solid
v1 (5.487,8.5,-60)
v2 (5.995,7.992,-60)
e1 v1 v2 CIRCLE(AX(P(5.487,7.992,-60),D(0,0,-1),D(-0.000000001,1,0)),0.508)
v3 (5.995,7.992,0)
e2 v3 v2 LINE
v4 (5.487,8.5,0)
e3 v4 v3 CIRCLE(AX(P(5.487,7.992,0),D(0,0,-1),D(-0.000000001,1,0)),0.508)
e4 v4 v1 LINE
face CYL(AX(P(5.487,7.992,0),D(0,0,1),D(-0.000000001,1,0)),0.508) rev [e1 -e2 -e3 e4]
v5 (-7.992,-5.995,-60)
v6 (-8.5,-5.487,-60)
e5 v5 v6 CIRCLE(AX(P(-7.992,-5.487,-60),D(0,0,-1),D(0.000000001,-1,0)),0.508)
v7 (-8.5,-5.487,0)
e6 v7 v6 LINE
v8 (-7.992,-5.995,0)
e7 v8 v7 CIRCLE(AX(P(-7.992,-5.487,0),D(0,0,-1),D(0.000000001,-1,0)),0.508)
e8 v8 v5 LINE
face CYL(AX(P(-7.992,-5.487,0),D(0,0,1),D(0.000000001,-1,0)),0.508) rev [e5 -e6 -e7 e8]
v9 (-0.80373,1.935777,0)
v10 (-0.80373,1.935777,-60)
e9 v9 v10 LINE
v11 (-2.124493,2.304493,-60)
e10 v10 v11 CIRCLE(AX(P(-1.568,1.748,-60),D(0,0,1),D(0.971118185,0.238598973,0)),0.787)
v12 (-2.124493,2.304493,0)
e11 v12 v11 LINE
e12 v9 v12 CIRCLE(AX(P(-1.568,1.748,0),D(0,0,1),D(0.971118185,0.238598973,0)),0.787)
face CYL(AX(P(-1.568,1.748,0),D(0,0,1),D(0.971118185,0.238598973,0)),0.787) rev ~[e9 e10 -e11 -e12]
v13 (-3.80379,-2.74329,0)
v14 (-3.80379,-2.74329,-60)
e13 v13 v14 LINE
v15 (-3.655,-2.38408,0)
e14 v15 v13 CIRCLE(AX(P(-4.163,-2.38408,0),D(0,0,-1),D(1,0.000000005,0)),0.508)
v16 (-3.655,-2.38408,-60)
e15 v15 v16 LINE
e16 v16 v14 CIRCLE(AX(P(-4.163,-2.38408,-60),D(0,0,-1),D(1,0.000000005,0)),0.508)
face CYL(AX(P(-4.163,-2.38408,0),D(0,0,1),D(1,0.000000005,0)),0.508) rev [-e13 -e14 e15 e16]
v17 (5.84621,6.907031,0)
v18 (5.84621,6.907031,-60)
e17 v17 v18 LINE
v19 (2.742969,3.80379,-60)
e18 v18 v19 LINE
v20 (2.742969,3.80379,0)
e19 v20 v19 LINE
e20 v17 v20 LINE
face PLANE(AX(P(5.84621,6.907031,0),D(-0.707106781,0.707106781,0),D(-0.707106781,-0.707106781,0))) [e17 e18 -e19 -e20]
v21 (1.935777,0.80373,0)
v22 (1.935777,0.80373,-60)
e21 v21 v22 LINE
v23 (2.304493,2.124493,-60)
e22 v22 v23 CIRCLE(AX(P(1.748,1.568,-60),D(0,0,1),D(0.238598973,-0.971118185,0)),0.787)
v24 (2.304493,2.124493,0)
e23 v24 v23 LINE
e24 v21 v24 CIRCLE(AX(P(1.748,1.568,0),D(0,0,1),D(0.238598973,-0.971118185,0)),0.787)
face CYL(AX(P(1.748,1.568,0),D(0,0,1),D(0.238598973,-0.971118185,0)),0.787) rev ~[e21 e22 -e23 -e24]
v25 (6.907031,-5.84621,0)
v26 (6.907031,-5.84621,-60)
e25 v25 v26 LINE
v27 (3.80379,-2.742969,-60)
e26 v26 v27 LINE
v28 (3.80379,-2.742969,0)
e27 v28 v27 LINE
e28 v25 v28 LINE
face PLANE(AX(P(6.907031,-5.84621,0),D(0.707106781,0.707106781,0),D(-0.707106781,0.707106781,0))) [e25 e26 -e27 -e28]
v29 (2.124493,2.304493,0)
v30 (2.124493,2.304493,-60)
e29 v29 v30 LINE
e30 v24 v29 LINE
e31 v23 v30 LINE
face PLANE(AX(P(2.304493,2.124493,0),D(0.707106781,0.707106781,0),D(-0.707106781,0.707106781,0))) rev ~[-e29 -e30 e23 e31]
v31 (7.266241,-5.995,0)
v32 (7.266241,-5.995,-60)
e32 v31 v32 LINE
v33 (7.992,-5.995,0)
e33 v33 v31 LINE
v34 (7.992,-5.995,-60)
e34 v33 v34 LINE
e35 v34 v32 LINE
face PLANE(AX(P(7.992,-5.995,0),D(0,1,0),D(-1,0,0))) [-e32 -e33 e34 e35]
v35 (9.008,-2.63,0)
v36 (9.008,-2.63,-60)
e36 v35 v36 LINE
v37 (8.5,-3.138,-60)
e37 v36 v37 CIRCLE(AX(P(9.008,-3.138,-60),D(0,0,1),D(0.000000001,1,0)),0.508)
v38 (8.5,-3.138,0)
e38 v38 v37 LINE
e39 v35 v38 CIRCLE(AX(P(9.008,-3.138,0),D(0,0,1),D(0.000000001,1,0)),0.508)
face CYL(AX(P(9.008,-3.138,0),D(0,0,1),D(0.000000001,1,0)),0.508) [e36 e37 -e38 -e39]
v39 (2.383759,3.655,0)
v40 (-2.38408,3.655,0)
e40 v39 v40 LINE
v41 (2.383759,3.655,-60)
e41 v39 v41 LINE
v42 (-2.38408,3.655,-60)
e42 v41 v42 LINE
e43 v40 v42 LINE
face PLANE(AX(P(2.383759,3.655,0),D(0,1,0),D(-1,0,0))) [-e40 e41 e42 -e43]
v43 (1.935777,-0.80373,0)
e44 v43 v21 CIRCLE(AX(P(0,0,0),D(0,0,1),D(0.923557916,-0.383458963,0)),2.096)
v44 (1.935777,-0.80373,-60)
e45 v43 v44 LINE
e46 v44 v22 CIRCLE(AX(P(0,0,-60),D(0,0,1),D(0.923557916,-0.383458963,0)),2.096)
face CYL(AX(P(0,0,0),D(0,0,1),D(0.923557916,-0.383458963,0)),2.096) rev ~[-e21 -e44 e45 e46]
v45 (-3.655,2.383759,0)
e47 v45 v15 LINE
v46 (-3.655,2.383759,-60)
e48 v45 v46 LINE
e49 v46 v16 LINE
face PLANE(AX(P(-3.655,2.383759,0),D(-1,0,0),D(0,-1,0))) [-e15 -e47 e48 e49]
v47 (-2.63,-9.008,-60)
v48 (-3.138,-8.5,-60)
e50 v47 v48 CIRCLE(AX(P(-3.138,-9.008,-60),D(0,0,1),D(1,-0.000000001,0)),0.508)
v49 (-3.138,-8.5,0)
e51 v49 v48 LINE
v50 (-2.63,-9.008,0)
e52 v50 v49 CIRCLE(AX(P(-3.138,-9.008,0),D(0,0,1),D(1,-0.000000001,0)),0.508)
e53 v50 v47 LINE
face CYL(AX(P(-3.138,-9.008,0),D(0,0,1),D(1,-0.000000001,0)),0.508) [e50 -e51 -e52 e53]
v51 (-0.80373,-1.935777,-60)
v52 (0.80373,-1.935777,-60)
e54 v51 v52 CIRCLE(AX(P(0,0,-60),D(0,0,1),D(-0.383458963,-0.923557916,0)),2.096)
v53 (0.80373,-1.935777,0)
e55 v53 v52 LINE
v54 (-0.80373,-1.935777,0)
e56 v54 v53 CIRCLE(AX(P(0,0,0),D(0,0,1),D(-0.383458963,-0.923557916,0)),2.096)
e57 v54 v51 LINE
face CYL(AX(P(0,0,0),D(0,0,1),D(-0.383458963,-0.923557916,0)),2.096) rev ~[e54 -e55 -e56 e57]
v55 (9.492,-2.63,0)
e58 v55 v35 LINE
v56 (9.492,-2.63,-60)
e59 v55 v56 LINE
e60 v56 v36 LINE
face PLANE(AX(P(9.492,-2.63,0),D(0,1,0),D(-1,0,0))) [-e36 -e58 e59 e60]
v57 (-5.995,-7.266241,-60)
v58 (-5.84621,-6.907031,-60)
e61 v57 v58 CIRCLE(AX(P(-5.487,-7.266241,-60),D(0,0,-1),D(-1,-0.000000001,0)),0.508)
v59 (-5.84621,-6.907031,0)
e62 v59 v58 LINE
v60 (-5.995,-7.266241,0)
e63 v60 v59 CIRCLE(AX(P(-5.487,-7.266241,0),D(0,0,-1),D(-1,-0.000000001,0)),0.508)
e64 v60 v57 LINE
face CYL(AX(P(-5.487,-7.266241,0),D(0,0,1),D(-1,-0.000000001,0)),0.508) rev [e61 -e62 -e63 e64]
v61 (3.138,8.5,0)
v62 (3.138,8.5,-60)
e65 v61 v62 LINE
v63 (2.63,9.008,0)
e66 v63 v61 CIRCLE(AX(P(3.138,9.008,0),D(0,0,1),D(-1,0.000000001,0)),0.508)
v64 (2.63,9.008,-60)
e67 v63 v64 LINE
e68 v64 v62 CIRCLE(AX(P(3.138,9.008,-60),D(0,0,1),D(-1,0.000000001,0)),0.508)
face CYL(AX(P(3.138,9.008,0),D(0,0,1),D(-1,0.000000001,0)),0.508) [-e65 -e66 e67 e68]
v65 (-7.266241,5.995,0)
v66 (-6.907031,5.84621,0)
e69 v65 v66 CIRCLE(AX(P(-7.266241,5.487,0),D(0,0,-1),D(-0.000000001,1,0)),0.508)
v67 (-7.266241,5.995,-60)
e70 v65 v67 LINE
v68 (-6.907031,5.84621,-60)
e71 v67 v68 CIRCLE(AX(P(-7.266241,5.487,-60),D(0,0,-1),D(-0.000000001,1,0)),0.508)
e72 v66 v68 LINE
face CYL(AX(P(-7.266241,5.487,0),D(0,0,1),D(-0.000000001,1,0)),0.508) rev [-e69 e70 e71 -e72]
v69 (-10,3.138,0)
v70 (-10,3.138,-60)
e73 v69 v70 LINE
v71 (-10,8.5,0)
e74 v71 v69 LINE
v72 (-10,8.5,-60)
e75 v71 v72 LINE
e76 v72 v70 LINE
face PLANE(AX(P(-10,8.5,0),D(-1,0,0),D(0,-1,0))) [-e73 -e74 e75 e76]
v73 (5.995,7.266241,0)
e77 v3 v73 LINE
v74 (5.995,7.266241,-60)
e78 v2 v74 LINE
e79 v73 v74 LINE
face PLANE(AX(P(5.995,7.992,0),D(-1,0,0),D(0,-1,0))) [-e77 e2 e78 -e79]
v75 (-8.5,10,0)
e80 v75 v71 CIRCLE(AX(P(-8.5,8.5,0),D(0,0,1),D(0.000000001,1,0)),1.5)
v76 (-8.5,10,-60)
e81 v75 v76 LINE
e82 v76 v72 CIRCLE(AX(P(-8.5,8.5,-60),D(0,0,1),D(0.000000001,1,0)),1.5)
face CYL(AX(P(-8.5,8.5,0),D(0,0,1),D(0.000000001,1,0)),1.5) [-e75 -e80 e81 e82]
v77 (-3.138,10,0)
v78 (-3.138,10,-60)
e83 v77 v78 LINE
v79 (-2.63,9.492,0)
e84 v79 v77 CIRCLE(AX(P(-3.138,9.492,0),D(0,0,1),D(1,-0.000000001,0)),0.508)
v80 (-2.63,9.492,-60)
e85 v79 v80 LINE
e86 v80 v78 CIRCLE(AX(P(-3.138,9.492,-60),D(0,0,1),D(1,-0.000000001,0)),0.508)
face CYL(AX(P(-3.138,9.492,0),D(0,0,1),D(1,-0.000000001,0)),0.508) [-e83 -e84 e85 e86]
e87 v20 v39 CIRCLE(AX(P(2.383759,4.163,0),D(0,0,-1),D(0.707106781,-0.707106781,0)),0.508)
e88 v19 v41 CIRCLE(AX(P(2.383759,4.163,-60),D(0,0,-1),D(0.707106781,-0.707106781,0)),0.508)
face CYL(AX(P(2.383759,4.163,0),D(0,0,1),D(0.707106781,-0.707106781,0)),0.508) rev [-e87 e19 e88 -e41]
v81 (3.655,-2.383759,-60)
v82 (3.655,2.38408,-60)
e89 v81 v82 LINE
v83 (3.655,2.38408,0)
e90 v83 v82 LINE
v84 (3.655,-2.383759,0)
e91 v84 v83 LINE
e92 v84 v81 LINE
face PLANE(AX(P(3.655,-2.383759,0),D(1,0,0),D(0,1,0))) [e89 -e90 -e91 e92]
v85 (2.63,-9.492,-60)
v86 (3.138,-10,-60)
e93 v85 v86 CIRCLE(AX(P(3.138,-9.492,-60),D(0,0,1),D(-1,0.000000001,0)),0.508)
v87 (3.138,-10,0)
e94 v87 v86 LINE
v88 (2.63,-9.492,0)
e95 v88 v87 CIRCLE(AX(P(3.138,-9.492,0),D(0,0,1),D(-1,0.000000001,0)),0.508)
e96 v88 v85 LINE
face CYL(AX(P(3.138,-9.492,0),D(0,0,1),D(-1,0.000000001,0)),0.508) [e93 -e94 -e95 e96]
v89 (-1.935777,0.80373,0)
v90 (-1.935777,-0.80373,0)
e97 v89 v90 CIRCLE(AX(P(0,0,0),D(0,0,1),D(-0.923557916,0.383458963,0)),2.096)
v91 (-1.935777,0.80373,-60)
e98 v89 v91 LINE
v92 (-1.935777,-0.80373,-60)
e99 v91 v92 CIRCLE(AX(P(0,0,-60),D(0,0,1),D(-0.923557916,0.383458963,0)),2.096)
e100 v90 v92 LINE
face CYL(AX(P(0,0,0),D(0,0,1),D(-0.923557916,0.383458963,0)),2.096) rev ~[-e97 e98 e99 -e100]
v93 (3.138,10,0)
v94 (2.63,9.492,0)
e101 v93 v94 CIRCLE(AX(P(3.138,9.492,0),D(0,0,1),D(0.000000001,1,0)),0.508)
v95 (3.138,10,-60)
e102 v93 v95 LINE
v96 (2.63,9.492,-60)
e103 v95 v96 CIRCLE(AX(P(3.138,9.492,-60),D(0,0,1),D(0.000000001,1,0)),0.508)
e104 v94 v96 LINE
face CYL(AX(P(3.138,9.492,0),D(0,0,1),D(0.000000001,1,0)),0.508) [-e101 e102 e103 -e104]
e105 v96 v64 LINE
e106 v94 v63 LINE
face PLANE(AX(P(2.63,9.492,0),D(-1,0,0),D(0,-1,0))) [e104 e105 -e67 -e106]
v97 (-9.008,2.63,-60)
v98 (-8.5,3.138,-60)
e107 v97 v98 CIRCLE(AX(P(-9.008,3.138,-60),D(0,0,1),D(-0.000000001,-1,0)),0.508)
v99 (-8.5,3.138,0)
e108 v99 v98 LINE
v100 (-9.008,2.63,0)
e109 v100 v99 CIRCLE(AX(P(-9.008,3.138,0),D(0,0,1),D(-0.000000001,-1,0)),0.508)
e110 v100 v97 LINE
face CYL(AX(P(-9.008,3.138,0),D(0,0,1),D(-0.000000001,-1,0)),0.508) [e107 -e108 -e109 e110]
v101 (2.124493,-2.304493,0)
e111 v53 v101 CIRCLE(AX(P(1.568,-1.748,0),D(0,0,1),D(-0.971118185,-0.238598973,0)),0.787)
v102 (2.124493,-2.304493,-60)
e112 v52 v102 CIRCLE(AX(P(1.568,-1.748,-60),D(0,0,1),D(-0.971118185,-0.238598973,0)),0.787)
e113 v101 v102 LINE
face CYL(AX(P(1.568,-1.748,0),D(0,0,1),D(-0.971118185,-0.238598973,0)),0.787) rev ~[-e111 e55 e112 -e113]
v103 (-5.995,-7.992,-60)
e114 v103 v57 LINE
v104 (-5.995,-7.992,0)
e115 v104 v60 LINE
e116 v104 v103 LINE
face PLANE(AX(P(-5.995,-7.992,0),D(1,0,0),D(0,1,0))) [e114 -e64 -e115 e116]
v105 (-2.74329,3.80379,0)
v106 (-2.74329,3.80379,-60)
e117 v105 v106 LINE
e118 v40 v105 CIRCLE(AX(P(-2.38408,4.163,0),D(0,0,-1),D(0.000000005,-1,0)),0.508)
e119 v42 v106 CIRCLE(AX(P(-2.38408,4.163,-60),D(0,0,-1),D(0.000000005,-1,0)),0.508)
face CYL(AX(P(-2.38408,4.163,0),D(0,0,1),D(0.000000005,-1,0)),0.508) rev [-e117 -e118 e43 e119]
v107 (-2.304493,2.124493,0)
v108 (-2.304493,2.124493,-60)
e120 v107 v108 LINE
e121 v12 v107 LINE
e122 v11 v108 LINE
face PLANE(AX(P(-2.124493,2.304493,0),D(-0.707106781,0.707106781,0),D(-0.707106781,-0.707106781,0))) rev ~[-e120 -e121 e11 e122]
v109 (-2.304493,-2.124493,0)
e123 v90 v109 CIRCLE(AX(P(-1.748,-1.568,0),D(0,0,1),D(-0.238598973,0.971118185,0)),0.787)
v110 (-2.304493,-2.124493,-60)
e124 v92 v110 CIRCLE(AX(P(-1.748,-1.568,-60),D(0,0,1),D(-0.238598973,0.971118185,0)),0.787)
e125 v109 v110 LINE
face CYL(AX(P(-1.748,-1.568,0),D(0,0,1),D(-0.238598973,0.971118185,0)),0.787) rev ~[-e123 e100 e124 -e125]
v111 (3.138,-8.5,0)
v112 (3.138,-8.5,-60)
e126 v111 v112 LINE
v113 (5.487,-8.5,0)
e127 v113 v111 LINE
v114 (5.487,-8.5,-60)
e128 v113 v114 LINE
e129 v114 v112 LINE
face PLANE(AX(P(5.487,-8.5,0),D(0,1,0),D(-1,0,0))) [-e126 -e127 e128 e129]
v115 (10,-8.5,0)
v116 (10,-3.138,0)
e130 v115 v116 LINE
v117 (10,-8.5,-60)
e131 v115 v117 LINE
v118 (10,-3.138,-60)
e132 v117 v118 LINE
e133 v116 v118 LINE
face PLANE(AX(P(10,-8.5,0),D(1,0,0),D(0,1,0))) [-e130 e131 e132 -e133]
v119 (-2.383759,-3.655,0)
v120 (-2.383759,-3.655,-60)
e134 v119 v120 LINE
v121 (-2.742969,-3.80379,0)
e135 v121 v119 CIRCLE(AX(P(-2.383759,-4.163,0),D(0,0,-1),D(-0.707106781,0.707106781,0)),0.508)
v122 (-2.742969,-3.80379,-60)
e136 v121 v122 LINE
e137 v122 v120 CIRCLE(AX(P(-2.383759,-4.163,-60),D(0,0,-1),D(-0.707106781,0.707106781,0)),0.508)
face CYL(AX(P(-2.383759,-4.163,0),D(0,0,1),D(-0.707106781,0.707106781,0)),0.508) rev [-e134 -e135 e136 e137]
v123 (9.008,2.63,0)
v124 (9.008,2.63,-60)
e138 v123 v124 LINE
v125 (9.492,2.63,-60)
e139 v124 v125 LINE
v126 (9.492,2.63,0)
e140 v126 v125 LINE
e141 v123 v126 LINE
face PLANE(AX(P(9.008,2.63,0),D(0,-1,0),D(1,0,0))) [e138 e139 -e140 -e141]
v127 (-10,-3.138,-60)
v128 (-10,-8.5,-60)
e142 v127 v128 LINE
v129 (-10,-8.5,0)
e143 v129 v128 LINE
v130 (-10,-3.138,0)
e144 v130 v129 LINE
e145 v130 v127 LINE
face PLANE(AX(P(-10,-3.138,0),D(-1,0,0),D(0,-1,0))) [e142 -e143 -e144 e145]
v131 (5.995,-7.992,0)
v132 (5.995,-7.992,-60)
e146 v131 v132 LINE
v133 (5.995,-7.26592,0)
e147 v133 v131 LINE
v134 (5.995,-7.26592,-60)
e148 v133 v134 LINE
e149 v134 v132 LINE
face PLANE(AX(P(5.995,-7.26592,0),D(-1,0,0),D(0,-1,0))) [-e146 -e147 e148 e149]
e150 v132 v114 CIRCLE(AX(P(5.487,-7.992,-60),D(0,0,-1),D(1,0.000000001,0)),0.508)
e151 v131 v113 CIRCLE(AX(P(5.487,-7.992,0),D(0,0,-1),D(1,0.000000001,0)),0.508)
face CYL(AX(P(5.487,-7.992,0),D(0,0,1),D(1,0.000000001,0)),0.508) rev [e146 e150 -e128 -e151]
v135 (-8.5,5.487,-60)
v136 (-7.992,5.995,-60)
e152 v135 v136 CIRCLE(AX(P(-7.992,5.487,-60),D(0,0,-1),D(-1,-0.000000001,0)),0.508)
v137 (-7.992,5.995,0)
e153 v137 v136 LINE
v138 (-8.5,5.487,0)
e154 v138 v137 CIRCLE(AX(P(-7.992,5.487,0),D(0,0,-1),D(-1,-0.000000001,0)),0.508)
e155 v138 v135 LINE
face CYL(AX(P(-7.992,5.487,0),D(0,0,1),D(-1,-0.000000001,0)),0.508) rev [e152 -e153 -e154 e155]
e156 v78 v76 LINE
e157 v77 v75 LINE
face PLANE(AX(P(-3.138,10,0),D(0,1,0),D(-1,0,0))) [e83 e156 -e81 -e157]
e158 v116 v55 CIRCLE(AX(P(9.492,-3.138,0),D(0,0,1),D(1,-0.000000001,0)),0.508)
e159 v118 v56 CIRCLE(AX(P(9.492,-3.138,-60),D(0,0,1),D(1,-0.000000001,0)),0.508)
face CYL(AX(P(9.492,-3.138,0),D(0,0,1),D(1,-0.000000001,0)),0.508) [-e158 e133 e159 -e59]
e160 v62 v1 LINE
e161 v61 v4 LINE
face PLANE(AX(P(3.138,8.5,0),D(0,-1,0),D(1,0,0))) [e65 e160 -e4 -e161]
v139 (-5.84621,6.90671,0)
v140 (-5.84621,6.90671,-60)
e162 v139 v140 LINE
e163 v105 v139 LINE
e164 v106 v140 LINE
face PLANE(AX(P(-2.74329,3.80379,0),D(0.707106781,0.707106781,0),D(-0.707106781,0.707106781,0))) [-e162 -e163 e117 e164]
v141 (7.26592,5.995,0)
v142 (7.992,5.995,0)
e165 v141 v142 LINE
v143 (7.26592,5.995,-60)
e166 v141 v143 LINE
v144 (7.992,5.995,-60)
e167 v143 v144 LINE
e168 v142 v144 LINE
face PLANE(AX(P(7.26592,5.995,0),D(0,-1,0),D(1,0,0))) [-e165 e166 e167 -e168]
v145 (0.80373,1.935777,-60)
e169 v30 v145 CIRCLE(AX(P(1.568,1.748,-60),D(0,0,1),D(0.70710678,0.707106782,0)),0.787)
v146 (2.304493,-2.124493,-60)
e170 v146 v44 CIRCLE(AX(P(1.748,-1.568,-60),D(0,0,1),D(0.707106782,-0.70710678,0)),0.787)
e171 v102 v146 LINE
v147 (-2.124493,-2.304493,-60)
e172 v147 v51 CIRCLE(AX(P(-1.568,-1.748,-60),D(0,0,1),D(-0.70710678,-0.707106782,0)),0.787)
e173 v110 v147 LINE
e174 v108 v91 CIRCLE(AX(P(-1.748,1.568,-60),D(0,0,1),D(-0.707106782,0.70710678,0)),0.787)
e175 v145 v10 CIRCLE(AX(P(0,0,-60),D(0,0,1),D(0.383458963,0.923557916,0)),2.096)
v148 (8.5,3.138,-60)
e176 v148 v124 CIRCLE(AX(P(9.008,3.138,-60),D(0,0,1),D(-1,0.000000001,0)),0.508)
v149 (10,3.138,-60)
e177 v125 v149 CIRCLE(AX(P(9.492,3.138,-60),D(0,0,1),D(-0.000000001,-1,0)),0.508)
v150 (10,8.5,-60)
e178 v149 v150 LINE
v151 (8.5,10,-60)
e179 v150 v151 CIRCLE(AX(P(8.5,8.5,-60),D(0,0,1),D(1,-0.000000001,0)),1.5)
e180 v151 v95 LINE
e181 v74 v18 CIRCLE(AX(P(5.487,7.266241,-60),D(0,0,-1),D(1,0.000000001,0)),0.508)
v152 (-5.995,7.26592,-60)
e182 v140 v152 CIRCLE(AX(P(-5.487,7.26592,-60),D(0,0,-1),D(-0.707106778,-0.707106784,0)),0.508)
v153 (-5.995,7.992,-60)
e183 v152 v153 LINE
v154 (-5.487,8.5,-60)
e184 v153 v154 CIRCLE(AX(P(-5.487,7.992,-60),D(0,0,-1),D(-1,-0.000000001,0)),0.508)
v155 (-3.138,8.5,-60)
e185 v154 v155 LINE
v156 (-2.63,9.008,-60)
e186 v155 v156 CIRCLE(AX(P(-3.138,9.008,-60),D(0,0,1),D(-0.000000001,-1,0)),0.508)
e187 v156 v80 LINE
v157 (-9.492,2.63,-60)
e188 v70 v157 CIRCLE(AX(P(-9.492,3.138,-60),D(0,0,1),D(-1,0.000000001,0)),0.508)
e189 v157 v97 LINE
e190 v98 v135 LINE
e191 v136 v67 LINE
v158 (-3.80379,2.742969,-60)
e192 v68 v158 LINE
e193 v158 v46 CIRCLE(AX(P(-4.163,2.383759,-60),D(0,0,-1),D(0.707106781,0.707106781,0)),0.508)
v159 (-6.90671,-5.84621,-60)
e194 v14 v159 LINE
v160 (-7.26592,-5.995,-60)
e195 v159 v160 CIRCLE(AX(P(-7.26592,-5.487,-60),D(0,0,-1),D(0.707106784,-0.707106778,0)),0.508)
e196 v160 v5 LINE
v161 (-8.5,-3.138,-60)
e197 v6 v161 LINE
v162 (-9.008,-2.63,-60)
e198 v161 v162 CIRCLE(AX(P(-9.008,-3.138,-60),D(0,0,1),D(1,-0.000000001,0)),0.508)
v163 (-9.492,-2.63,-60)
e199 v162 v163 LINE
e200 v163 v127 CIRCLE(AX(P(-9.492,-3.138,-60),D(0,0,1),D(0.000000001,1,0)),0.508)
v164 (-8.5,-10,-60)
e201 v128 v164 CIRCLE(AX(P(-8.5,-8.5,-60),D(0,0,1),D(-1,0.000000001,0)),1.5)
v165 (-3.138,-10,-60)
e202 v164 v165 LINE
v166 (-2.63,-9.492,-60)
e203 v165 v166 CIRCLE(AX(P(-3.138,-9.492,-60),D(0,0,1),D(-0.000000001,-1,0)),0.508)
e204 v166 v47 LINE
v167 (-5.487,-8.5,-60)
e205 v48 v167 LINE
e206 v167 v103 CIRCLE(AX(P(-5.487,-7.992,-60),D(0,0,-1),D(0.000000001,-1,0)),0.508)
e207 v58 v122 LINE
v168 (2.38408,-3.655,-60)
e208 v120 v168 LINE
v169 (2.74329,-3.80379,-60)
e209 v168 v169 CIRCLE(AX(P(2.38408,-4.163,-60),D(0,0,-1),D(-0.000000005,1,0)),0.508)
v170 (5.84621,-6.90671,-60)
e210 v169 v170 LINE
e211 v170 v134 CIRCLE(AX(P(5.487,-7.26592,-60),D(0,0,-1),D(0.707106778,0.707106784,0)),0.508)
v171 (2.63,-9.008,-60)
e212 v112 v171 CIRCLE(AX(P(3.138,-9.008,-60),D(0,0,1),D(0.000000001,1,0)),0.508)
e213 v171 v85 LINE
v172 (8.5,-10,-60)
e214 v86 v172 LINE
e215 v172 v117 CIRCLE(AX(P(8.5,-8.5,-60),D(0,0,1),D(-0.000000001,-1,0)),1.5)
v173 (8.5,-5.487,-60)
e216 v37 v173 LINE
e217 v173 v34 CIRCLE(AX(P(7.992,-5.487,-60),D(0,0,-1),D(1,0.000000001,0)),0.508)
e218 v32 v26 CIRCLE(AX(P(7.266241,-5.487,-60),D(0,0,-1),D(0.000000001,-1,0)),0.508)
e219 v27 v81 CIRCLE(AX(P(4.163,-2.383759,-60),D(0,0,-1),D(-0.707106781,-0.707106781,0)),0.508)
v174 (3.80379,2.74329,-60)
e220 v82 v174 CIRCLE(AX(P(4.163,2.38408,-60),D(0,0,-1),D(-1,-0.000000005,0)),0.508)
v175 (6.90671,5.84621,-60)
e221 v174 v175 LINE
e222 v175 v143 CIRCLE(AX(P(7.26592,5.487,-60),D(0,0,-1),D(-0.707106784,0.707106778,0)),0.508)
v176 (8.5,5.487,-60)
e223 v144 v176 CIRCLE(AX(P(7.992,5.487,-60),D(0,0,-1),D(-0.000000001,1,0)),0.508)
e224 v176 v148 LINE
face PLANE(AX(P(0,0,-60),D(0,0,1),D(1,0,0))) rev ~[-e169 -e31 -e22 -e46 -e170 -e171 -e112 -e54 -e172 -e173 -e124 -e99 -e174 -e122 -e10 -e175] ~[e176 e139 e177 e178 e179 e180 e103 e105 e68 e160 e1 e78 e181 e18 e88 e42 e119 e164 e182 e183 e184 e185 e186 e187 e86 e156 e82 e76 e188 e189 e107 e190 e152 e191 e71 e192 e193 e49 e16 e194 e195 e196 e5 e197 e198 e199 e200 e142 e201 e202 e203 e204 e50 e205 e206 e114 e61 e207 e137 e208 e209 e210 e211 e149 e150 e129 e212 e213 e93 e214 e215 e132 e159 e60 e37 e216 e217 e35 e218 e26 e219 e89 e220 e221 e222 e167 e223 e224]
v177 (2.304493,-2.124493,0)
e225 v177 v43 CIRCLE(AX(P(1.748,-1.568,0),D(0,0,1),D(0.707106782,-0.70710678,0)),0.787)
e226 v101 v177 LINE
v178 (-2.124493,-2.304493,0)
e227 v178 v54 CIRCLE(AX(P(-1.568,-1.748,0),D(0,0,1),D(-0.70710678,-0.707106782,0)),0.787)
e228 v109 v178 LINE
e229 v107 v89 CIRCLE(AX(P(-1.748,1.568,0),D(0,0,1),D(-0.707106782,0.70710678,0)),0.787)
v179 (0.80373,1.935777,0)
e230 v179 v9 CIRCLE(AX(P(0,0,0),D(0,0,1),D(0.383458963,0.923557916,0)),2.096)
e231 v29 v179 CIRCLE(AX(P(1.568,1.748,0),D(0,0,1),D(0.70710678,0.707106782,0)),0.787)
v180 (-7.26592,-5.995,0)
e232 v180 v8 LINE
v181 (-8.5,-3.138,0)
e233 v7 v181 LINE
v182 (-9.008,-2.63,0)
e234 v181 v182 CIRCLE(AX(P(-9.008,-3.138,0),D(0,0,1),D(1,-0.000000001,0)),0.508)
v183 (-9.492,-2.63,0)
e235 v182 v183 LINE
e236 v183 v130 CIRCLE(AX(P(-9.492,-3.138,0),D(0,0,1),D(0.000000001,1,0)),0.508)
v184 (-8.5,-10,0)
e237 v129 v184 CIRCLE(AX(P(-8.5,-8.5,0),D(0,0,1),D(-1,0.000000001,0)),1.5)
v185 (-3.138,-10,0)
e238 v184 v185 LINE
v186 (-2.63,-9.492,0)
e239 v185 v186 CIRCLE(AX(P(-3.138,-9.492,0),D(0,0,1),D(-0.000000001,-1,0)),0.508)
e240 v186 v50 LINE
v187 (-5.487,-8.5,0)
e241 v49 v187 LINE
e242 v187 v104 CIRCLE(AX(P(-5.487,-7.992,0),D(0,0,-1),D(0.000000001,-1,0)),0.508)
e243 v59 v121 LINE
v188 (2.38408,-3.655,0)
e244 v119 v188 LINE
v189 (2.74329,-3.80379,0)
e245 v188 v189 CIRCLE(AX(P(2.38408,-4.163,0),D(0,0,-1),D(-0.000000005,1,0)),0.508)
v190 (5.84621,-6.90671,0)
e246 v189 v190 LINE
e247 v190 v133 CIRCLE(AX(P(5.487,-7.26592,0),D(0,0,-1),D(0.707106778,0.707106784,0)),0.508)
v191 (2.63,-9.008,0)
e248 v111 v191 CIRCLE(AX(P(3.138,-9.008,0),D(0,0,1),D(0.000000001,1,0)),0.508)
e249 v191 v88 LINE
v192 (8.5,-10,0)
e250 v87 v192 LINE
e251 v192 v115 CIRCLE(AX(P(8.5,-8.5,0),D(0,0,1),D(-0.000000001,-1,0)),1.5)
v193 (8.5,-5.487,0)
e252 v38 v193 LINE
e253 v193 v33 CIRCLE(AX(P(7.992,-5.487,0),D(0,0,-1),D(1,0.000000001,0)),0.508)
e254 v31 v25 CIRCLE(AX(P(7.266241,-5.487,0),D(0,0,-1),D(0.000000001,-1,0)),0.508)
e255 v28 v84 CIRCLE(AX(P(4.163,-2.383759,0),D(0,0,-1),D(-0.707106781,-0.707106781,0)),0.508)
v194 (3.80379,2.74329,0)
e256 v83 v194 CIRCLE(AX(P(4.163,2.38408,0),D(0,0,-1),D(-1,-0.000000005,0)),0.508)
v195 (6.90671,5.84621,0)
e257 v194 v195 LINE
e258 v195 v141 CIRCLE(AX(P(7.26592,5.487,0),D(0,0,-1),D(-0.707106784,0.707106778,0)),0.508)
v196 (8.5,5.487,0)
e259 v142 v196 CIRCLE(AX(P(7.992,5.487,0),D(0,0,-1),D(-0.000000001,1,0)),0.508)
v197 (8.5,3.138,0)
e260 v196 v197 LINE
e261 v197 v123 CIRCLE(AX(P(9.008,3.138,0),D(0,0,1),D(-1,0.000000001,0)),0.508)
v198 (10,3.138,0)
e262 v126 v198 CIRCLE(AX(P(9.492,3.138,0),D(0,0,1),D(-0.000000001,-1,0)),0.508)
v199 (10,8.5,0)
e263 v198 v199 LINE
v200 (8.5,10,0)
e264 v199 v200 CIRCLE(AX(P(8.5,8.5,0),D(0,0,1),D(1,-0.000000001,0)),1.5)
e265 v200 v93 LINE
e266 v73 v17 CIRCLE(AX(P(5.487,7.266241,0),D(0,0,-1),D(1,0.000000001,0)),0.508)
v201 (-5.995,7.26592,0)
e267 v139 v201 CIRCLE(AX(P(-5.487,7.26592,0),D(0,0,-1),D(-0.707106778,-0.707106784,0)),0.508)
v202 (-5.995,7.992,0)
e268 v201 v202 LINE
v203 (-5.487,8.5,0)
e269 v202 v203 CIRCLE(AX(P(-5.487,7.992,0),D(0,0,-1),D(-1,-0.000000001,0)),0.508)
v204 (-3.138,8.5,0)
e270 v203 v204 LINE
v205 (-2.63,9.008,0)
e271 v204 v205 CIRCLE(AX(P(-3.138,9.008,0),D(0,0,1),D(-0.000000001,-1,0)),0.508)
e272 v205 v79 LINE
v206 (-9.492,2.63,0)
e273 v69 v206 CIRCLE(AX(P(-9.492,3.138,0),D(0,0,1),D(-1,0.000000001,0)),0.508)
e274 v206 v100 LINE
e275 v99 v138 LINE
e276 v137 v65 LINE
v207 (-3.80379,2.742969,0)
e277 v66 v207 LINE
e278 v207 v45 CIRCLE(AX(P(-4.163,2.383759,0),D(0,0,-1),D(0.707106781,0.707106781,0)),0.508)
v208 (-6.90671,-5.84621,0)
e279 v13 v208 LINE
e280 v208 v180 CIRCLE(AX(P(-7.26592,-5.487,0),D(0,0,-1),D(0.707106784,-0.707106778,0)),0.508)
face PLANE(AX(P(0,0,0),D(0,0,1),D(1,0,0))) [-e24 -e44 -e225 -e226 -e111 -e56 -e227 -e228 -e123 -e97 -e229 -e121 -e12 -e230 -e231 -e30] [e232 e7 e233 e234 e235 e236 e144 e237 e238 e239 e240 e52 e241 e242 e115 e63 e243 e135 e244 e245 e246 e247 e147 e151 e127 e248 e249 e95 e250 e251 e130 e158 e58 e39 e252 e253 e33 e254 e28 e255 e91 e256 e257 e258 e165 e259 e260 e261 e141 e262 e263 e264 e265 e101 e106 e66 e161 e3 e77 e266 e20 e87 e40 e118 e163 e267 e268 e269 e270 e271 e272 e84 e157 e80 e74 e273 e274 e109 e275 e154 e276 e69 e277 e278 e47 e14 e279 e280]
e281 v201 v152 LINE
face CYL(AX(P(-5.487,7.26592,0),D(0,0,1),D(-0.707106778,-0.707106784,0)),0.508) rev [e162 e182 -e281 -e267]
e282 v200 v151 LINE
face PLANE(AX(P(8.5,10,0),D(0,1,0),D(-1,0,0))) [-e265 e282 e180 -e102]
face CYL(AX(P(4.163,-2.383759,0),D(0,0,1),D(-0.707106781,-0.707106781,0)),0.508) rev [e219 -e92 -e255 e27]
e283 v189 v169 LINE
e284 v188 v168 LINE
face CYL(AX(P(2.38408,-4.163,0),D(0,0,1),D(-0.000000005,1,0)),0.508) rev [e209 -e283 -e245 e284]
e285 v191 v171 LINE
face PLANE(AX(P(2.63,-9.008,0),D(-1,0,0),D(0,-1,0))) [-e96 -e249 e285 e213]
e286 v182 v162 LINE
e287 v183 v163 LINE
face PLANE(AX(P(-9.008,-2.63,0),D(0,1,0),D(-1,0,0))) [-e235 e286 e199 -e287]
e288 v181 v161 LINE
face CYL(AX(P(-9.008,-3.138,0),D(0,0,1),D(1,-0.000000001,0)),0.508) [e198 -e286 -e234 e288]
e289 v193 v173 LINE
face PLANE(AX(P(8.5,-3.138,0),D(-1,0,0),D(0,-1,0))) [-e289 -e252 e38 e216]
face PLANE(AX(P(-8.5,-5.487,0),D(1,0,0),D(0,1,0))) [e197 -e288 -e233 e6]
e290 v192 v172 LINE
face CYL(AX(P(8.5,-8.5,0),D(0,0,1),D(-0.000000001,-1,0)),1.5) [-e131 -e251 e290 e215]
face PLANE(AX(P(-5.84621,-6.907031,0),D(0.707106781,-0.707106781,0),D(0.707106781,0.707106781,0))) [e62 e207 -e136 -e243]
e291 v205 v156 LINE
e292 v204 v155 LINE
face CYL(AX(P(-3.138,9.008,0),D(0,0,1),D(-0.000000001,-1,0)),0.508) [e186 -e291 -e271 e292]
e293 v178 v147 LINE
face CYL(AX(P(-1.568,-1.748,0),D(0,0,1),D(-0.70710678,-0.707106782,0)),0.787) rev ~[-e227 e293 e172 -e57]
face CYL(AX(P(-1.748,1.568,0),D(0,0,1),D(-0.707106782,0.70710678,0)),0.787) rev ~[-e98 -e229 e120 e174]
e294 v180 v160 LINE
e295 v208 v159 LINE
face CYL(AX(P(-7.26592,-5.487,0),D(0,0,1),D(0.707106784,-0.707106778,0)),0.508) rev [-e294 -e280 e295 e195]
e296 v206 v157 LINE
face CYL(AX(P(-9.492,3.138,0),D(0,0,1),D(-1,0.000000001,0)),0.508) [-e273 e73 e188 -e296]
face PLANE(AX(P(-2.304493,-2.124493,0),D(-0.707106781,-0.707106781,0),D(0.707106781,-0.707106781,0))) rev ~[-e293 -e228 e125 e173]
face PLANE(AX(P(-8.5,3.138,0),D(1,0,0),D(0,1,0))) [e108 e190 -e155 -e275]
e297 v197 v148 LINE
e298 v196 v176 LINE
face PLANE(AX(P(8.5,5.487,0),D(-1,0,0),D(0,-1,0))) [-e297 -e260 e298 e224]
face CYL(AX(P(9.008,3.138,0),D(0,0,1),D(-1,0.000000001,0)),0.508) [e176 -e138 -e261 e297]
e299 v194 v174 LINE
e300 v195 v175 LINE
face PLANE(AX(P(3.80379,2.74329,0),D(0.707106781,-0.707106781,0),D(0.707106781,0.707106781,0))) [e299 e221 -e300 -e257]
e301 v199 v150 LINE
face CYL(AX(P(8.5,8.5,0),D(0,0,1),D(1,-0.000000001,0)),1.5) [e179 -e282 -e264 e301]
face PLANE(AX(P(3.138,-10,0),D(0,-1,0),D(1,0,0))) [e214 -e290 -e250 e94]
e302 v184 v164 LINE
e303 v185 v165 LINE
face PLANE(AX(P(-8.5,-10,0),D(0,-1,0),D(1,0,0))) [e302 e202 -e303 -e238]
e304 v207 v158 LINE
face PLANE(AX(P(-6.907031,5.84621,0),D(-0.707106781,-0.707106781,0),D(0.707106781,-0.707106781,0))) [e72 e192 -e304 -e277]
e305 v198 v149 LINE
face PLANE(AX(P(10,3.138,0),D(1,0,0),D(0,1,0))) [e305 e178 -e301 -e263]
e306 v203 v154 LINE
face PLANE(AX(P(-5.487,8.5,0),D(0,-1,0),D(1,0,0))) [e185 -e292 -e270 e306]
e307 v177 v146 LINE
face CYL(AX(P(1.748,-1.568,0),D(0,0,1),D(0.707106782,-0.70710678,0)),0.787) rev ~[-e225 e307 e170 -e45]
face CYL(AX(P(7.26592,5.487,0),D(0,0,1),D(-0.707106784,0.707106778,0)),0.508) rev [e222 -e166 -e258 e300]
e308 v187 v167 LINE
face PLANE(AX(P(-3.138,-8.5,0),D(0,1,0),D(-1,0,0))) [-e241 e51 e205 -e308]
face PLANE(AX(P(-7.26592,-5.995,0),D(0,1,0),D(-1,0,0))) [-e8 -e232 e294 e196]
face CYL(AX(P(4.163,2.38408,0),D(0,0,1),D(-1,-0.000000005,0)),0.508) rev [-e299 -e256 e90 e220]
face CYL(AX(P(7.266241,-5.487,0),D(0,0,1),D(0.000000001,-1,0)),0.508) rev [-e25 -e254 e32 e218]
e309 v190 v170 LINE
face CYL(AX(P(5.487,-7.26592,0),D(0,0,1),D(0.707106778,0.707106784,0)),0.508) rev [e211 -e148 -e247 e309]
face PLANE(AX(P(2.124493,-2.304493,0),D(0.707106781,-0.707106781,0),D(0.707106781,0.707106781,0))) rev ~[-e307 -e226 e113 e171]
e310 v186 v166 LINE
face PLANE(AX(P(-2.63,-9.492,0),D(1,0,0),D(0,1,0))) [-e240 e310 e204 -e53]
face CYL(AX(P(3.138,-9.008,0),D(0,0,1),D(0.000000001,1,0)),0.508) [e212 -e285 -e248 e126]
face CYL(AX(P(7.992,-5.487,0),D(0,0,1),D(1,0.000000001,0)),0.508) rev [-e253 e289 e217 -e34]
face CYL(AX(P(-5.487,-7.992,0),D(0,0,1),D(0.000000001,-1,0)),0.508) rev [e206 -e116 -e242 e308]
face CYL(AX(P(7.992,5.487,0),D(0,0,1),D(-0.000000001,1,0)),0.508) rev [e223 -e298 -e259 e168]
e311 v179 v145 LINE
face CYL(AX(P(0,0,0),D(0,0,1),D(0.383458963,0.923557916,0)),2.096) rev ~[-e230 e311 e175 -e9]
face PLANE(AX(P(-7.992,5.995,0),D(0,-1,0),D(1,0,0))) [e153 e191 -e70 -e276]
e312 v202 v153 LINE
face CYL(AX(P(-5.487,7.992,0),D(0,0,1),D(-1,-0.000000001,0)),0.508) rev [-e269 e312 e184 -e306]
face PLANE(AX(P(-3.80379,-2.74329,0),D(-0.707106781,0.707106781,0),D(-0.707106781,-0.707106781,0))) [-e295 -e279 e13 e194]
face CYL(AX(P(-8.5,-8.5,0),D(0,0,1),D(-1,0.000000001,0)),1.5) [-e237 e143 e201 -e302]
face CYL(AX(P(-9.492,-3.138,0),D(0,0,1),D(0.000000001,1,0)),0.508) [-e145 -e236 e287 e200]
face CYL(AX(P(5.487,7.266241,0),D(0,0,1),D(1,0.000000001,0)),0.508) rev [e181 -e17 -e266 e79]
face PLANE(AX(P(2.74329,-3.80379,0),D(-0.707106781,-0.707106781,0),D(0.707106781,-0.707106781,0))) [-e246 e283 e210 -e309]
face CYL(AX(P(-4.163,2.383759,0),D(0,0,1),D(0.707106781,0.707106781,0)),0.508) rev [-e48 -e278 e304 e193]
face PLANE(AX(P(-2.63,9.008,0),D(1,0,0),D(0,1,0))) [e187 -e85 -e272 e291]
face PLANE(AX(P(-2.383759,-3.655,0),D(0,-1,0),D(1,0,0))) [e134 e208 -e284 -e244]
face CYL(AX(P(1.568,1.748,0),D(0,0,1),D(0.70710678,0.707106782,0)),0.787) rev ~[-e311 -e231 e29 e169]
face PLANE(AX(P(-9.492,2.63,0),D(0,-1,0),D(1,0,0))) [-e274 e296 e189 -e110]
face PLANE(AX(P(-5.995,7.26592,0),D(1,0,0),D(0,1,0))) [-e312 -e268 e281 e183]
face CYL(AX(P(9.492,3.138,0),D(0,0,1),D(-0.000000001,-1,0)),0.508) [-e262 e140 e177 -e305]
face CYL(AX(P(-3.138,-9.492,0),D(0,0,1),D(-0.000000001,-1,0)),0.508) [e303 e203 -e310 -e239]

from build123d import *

# Parameters (mm, degrees)
BOSS_EXTRUDE1_DEPTH = 60


with BuildPart() as part:
    # Sketch2 → Boss-Extrude1 (new body)
    with BuildSketch(Plane.XY):
        with BuildLine():
            Line((-10, -3.138), (-10, -8.5))
            ThreePointArc((-10, -8.5), (-9.560660172, -9.560660172), (-8.5, -10))
            Line((-8.5, -10), (-3.138, -10))
            ThreePointArc((-3.138, -10), (-2.778789755, -9.851210245), (-2.63, -9.492))
            Line((-2.63, -9.492), (-2.63, -9.008))
            ThreePointArc((-2.63, -9.008), (-2.778789755, -8.648789755), (-3.138, -8.5))
            Line((-3.138, -8.5), (-5.487, -8.5))
            ThreePointArc((-5.487, -8.5), (-5.846210245, -8.351210245), (-5.995, -7.992))
            Line((-5.995, -7.992), (-5.995, -7.266240833))
            ThreePointArc((-5.995, -7.266240833), (-5.956330803, -7.07183765), (-5.846210245, -6.907030588))
            Line((-5.846210245, -6.907030588), (-2.742969412, -3.803789755))
            ThreePointArc((-2.742969412, -3.803789755), (-2.57816235, -3.693669197), (-2.383759167, -3.655))
            Line((-2.383759167, -3.655), (2.38407951, -3.655))
            ThreePointArc((2.38407951, -3.655), (2.578482694, -3.693669197), (2.743289755, -3.803789755))
            Line((2.743289755, -3.803789755), (5.846210245, -6.906710245))
            ThreePointArc((5.846210245, -6.906710245), (5.956330803, -7.071517306), (5.995, -7.26592049))
            Line((5.995, -7.26592049), (5.995, -7.992))
            ThreePointArc((5.995, -7.992), (5.846210245, -8.351210245), (5.487, -8.5))
            Line((5.487, -8.5), (3.138, -8.5))
            ThreePointArc((3.138, -8.5), (2.778789755, -8.648789755), (2.63, -9.008))
            Line((2.63, -9.008), (2.63, -9.492))
            ThreePointArc((2.63, -9.492), (2.778789755, -9.851210245), (3.138, -10))
            Line((3.138, -10), (8.5, -10))
            ThreePointArc((8.5, -10), (9.560660172, -9.560660172), (10, -8.5))
            Line((10, -8.5), (10, -3.138))
            ThreePointArc((10, -3.138), (9.851210245, -2.778789755), (9.492, -2.63))
            Line((9.492, -2.63), (9.008, -2.63))
            ThreePointArc((9.008, -2.63), (8.648789755, -2.778789755), (8.5, -3.138))
            Line((8.5, -3.138), (8.5, -5.487))
            ThreePointArc((8.5, -5.487), (8.351210245, -5.846210245), (7.992, -5.995))
            Line((7.992, -5.995), (7.266240833, -5.995))
            ThreePointArc((7.266240833, -5.995), (7.07183765, -5.956330803), (6.907030588, -5.846210245))
            Line((6.907030588, -5.846210245), (3.803789755, -2.742969412))
            ThreePointArc((3.803789755, -2.742969412), (3.693669197, -2.57816235), (3.655, -2.383759167))
            Line((3.655, -2.383759167), (3.655, 2.38407951))
            ThreePointArc((3.655, 2.38407951), (3.693669197, 2.578482694), (3.803789755, 2.743289755))
            Line((3.803789755, 2.743289755), (6.906710245, 5.846210245))
            ThreePointArc((6.906710245, 5.846210245), (7.071517306, 5.956330803), (7.26592049, 5.995))
            Line((7.26592049, 5.995), (7.992, 5.995))
            ThreePointArc((7.992, 5.995), (8.351210245, 5.846210245), (8.5, 5.487))
            Line((8.5, 5.487), (8.5, 3.138))
            ThreePointArc((8.5, 3.138), (8.648789755, 2.778789755), (9.008, 2.63))
            Line((9.008, 2.63), (9.492, 2.63))
            ThreePointArc((9.492, 2.63), (9.851210245, 2.778789755), (10, 3.138))
            Line((10, 3.138), (10, 8.5))
            ThreePointArc((10, 8.5), (9.560660172, 9.560660172), (8.5, 10))
            Line((8.5, 10), (3.138, 10))
            ThreePointArc((3.138, 10), (2.778789755, 9.851210245), (2.63, 9.492))
            Line((2.63, 9.492), (2.63, 9.008))
            ThreePointArc((2.63, 9.008), (2.778789755, 8.648789755), (3.138, 8.5))
            Line((3.138, 8.5), (5.487, 8.5))
            ThreePointArc((5.487, 8.5), (5.846210245, 8.351210245), (5.995, 7.992))
            Line((5.995, 7.992), (5.995, 7.266240833))
            ThreePointArc((5.995, 7.266240833), (5.956330803, 7.07183765), (5.846210245, 6.907030588))
            Line((5.846210245, 6.907030588), (2.742969412, 3.803789755))
            ThreePointArc((2.742969412, 3.803789755), (2.57816235, 3.693669197), (2.383759167, 3.655))
            Line((2.383759167, 3.655), (-2.38407951, 3.655))
            ThreePointArc((-2.38407951, 3.655), (-2.578482694, 3.693669197), (-2.743289755, 3.803789755))
            Line((-2.743289755, 3.803789755), (-5.846210245, 6.906710245))
            ThreePointArc((-5.846210245, 6.906710245), (-5.956330803, 7.071517306), (-5.995, 7.26592049))
            Line((-5.995, 7.26592049), (-5.995, 7.992))
            ThreePointArc((-5.995, 7.992), (-5.846210245, 8.351210245), (-5.487, 8.5))
            Line((-5.487, 8.5), (-3.138, 8.5))
            ThreePointArc((-3.138, 8.5), (-2.778789755, 8.648789755), (-2.63, 9.008))
            Line((-2.63, 9.008), (-2.63, 9.492))
            ThreePointArc((-2.63, 9.492), (-2.778789755, 9.851210245), (-3.138, 10))
            Line((-3.138, 10), (-8.5, 10))
            ThreePointArc((-8.5, 10), (-9.560660172, 9.560660172), (-10, 8.5))
            Line((-10, 8.5), (-10, 3.138))
            ThreePointArc((-10, 3.138), (-9.851210245, 2.778789755), (-9.492, 2.63))
            Line((-9.492, 2.63), (-9.008, 2.63))
            ThreePointArc((-9.008, 2.63), (-8.648789755, 2.778789755), (-8.5, 3.138))
            Line((-8.5, 3.138), (-8.5, 5.487))
            ThreePointArc((-8.5, 5.487), (-8.351210245, 5.846210245), (-7.992, 5.995))
            Line((-7.992, 5.995), (-7.266240833, 5.995))
            ThreePointArc((-7.266240833, 5.995), (-7.07183765, 5.956330803), (-6.907030588, 5.846210245))
            Line((-6.907030588, 5.846210245), (-3.803789755, 2.742969412))
            ThreePointArc((-3.803789755, 2.742969412), (-3.693669197, 2.57816235), (-3.655, 2.383759167))
            Line((-3.655, 2.383759167), (-3.655, -2.38407951))
            ThreePointArc((-3.655, -2.38407951), (-3.693669197, -2.578482694), (-3.803789755, -2.743289755))
            Line((-3.803789755, -2.743289755), (-6.906710245, -5.846210245))
            ThreePointArc((-6.906710245, -5.846210245), (-7.071517306, -5.956330803), (-7.26592049, -5.995))
            Line((-7.26592049, -5.995), (-7.992, -5.995))
            ThreePointArc((-7.992, -5.995), (-8.351210245, -5.846210245), (-8.5, -5.487))
            Line((-8.5, -5.487), (-8.5, -3.138))
            ThreePointArc((-8.5, -3.138), (-8.648789755, -2.778789755), (-9.008, -2.63))
            Line((-9.008, -2.63), (-9.492, -2.63))
            ThreePointArc((-9.492, -2.63), (-9.851210245, -2.778789755), (-10, -3.138))
        make_face()
        with BuildLine():
            Line((-2.124493037, 2.304493037), (-2.304493037, 2.124493037))
            ThreePointArc((-2.304493037, 2.124493037), (-2.506016078, 1.35638567), (-1.935777391, 0.803729988))
            ThreePointArc((-1.935777391, 0.803729988), (-2.096, 0), (-1.935777391, -0.803729988))
            ThreePointArc((-1.935777391, -0.803729988), (-2.506016078, -1.35638567), (-2.304493037, -2.124493037))
            Line((-2.304493037, -2.124493037), (-2.124493037, -2.304493037))
            ThreePointArc((-2.124493037, -2.304493037), (-1.35638567, -2.506016078), (-0.803729988, -1.935777391))
            ThreePointArc((-0.803729988, -1.935777391), (0, -2.096), (0.803729988, -1.935777391))
            ThreePointArc((0.803729988, -1.935777391), (1.35638567, -2.506016078), (2.124493037, -2.304493037))
            Line((2.124493037, -2.304493037), (2.304493037, -2.124493037))
            ThreePointArc((2.304493037, -2.124493037), (2.506016078, -1.35638567), (1.935777391, -0.803729988))
            ThreePointArc((1.935777391, -0.803729988), (2.096, 0), (1.935777391, 0.803729988))
            ThreePointArc((1.935777391, 0.803729988), (2.506016078, 1.35638567), (2.304493037, 2.124493037))
            Line((2.304493037, 2.124493037), (2.124493037, 2.304493037))
            ThreePointArc((2.124493037, 2.304493037), (1.35638567, 2.506016078), (0.803729988, 1.935777391))
            ThreePointArc((0.803729988, 1.935777391), (0, 2.096), (-0.803729988, 1.935777391))
            ThreePointArc((-0.803729988, 1.935777391), (-1.35638567, 2.506016078), (-2.124493037, 2.304493037))
        make_face(mode=Mode.SUBTRACT)
    extrude(amount=-BOSS_EXTRUDE1_DEPTH)


solid = part.part
